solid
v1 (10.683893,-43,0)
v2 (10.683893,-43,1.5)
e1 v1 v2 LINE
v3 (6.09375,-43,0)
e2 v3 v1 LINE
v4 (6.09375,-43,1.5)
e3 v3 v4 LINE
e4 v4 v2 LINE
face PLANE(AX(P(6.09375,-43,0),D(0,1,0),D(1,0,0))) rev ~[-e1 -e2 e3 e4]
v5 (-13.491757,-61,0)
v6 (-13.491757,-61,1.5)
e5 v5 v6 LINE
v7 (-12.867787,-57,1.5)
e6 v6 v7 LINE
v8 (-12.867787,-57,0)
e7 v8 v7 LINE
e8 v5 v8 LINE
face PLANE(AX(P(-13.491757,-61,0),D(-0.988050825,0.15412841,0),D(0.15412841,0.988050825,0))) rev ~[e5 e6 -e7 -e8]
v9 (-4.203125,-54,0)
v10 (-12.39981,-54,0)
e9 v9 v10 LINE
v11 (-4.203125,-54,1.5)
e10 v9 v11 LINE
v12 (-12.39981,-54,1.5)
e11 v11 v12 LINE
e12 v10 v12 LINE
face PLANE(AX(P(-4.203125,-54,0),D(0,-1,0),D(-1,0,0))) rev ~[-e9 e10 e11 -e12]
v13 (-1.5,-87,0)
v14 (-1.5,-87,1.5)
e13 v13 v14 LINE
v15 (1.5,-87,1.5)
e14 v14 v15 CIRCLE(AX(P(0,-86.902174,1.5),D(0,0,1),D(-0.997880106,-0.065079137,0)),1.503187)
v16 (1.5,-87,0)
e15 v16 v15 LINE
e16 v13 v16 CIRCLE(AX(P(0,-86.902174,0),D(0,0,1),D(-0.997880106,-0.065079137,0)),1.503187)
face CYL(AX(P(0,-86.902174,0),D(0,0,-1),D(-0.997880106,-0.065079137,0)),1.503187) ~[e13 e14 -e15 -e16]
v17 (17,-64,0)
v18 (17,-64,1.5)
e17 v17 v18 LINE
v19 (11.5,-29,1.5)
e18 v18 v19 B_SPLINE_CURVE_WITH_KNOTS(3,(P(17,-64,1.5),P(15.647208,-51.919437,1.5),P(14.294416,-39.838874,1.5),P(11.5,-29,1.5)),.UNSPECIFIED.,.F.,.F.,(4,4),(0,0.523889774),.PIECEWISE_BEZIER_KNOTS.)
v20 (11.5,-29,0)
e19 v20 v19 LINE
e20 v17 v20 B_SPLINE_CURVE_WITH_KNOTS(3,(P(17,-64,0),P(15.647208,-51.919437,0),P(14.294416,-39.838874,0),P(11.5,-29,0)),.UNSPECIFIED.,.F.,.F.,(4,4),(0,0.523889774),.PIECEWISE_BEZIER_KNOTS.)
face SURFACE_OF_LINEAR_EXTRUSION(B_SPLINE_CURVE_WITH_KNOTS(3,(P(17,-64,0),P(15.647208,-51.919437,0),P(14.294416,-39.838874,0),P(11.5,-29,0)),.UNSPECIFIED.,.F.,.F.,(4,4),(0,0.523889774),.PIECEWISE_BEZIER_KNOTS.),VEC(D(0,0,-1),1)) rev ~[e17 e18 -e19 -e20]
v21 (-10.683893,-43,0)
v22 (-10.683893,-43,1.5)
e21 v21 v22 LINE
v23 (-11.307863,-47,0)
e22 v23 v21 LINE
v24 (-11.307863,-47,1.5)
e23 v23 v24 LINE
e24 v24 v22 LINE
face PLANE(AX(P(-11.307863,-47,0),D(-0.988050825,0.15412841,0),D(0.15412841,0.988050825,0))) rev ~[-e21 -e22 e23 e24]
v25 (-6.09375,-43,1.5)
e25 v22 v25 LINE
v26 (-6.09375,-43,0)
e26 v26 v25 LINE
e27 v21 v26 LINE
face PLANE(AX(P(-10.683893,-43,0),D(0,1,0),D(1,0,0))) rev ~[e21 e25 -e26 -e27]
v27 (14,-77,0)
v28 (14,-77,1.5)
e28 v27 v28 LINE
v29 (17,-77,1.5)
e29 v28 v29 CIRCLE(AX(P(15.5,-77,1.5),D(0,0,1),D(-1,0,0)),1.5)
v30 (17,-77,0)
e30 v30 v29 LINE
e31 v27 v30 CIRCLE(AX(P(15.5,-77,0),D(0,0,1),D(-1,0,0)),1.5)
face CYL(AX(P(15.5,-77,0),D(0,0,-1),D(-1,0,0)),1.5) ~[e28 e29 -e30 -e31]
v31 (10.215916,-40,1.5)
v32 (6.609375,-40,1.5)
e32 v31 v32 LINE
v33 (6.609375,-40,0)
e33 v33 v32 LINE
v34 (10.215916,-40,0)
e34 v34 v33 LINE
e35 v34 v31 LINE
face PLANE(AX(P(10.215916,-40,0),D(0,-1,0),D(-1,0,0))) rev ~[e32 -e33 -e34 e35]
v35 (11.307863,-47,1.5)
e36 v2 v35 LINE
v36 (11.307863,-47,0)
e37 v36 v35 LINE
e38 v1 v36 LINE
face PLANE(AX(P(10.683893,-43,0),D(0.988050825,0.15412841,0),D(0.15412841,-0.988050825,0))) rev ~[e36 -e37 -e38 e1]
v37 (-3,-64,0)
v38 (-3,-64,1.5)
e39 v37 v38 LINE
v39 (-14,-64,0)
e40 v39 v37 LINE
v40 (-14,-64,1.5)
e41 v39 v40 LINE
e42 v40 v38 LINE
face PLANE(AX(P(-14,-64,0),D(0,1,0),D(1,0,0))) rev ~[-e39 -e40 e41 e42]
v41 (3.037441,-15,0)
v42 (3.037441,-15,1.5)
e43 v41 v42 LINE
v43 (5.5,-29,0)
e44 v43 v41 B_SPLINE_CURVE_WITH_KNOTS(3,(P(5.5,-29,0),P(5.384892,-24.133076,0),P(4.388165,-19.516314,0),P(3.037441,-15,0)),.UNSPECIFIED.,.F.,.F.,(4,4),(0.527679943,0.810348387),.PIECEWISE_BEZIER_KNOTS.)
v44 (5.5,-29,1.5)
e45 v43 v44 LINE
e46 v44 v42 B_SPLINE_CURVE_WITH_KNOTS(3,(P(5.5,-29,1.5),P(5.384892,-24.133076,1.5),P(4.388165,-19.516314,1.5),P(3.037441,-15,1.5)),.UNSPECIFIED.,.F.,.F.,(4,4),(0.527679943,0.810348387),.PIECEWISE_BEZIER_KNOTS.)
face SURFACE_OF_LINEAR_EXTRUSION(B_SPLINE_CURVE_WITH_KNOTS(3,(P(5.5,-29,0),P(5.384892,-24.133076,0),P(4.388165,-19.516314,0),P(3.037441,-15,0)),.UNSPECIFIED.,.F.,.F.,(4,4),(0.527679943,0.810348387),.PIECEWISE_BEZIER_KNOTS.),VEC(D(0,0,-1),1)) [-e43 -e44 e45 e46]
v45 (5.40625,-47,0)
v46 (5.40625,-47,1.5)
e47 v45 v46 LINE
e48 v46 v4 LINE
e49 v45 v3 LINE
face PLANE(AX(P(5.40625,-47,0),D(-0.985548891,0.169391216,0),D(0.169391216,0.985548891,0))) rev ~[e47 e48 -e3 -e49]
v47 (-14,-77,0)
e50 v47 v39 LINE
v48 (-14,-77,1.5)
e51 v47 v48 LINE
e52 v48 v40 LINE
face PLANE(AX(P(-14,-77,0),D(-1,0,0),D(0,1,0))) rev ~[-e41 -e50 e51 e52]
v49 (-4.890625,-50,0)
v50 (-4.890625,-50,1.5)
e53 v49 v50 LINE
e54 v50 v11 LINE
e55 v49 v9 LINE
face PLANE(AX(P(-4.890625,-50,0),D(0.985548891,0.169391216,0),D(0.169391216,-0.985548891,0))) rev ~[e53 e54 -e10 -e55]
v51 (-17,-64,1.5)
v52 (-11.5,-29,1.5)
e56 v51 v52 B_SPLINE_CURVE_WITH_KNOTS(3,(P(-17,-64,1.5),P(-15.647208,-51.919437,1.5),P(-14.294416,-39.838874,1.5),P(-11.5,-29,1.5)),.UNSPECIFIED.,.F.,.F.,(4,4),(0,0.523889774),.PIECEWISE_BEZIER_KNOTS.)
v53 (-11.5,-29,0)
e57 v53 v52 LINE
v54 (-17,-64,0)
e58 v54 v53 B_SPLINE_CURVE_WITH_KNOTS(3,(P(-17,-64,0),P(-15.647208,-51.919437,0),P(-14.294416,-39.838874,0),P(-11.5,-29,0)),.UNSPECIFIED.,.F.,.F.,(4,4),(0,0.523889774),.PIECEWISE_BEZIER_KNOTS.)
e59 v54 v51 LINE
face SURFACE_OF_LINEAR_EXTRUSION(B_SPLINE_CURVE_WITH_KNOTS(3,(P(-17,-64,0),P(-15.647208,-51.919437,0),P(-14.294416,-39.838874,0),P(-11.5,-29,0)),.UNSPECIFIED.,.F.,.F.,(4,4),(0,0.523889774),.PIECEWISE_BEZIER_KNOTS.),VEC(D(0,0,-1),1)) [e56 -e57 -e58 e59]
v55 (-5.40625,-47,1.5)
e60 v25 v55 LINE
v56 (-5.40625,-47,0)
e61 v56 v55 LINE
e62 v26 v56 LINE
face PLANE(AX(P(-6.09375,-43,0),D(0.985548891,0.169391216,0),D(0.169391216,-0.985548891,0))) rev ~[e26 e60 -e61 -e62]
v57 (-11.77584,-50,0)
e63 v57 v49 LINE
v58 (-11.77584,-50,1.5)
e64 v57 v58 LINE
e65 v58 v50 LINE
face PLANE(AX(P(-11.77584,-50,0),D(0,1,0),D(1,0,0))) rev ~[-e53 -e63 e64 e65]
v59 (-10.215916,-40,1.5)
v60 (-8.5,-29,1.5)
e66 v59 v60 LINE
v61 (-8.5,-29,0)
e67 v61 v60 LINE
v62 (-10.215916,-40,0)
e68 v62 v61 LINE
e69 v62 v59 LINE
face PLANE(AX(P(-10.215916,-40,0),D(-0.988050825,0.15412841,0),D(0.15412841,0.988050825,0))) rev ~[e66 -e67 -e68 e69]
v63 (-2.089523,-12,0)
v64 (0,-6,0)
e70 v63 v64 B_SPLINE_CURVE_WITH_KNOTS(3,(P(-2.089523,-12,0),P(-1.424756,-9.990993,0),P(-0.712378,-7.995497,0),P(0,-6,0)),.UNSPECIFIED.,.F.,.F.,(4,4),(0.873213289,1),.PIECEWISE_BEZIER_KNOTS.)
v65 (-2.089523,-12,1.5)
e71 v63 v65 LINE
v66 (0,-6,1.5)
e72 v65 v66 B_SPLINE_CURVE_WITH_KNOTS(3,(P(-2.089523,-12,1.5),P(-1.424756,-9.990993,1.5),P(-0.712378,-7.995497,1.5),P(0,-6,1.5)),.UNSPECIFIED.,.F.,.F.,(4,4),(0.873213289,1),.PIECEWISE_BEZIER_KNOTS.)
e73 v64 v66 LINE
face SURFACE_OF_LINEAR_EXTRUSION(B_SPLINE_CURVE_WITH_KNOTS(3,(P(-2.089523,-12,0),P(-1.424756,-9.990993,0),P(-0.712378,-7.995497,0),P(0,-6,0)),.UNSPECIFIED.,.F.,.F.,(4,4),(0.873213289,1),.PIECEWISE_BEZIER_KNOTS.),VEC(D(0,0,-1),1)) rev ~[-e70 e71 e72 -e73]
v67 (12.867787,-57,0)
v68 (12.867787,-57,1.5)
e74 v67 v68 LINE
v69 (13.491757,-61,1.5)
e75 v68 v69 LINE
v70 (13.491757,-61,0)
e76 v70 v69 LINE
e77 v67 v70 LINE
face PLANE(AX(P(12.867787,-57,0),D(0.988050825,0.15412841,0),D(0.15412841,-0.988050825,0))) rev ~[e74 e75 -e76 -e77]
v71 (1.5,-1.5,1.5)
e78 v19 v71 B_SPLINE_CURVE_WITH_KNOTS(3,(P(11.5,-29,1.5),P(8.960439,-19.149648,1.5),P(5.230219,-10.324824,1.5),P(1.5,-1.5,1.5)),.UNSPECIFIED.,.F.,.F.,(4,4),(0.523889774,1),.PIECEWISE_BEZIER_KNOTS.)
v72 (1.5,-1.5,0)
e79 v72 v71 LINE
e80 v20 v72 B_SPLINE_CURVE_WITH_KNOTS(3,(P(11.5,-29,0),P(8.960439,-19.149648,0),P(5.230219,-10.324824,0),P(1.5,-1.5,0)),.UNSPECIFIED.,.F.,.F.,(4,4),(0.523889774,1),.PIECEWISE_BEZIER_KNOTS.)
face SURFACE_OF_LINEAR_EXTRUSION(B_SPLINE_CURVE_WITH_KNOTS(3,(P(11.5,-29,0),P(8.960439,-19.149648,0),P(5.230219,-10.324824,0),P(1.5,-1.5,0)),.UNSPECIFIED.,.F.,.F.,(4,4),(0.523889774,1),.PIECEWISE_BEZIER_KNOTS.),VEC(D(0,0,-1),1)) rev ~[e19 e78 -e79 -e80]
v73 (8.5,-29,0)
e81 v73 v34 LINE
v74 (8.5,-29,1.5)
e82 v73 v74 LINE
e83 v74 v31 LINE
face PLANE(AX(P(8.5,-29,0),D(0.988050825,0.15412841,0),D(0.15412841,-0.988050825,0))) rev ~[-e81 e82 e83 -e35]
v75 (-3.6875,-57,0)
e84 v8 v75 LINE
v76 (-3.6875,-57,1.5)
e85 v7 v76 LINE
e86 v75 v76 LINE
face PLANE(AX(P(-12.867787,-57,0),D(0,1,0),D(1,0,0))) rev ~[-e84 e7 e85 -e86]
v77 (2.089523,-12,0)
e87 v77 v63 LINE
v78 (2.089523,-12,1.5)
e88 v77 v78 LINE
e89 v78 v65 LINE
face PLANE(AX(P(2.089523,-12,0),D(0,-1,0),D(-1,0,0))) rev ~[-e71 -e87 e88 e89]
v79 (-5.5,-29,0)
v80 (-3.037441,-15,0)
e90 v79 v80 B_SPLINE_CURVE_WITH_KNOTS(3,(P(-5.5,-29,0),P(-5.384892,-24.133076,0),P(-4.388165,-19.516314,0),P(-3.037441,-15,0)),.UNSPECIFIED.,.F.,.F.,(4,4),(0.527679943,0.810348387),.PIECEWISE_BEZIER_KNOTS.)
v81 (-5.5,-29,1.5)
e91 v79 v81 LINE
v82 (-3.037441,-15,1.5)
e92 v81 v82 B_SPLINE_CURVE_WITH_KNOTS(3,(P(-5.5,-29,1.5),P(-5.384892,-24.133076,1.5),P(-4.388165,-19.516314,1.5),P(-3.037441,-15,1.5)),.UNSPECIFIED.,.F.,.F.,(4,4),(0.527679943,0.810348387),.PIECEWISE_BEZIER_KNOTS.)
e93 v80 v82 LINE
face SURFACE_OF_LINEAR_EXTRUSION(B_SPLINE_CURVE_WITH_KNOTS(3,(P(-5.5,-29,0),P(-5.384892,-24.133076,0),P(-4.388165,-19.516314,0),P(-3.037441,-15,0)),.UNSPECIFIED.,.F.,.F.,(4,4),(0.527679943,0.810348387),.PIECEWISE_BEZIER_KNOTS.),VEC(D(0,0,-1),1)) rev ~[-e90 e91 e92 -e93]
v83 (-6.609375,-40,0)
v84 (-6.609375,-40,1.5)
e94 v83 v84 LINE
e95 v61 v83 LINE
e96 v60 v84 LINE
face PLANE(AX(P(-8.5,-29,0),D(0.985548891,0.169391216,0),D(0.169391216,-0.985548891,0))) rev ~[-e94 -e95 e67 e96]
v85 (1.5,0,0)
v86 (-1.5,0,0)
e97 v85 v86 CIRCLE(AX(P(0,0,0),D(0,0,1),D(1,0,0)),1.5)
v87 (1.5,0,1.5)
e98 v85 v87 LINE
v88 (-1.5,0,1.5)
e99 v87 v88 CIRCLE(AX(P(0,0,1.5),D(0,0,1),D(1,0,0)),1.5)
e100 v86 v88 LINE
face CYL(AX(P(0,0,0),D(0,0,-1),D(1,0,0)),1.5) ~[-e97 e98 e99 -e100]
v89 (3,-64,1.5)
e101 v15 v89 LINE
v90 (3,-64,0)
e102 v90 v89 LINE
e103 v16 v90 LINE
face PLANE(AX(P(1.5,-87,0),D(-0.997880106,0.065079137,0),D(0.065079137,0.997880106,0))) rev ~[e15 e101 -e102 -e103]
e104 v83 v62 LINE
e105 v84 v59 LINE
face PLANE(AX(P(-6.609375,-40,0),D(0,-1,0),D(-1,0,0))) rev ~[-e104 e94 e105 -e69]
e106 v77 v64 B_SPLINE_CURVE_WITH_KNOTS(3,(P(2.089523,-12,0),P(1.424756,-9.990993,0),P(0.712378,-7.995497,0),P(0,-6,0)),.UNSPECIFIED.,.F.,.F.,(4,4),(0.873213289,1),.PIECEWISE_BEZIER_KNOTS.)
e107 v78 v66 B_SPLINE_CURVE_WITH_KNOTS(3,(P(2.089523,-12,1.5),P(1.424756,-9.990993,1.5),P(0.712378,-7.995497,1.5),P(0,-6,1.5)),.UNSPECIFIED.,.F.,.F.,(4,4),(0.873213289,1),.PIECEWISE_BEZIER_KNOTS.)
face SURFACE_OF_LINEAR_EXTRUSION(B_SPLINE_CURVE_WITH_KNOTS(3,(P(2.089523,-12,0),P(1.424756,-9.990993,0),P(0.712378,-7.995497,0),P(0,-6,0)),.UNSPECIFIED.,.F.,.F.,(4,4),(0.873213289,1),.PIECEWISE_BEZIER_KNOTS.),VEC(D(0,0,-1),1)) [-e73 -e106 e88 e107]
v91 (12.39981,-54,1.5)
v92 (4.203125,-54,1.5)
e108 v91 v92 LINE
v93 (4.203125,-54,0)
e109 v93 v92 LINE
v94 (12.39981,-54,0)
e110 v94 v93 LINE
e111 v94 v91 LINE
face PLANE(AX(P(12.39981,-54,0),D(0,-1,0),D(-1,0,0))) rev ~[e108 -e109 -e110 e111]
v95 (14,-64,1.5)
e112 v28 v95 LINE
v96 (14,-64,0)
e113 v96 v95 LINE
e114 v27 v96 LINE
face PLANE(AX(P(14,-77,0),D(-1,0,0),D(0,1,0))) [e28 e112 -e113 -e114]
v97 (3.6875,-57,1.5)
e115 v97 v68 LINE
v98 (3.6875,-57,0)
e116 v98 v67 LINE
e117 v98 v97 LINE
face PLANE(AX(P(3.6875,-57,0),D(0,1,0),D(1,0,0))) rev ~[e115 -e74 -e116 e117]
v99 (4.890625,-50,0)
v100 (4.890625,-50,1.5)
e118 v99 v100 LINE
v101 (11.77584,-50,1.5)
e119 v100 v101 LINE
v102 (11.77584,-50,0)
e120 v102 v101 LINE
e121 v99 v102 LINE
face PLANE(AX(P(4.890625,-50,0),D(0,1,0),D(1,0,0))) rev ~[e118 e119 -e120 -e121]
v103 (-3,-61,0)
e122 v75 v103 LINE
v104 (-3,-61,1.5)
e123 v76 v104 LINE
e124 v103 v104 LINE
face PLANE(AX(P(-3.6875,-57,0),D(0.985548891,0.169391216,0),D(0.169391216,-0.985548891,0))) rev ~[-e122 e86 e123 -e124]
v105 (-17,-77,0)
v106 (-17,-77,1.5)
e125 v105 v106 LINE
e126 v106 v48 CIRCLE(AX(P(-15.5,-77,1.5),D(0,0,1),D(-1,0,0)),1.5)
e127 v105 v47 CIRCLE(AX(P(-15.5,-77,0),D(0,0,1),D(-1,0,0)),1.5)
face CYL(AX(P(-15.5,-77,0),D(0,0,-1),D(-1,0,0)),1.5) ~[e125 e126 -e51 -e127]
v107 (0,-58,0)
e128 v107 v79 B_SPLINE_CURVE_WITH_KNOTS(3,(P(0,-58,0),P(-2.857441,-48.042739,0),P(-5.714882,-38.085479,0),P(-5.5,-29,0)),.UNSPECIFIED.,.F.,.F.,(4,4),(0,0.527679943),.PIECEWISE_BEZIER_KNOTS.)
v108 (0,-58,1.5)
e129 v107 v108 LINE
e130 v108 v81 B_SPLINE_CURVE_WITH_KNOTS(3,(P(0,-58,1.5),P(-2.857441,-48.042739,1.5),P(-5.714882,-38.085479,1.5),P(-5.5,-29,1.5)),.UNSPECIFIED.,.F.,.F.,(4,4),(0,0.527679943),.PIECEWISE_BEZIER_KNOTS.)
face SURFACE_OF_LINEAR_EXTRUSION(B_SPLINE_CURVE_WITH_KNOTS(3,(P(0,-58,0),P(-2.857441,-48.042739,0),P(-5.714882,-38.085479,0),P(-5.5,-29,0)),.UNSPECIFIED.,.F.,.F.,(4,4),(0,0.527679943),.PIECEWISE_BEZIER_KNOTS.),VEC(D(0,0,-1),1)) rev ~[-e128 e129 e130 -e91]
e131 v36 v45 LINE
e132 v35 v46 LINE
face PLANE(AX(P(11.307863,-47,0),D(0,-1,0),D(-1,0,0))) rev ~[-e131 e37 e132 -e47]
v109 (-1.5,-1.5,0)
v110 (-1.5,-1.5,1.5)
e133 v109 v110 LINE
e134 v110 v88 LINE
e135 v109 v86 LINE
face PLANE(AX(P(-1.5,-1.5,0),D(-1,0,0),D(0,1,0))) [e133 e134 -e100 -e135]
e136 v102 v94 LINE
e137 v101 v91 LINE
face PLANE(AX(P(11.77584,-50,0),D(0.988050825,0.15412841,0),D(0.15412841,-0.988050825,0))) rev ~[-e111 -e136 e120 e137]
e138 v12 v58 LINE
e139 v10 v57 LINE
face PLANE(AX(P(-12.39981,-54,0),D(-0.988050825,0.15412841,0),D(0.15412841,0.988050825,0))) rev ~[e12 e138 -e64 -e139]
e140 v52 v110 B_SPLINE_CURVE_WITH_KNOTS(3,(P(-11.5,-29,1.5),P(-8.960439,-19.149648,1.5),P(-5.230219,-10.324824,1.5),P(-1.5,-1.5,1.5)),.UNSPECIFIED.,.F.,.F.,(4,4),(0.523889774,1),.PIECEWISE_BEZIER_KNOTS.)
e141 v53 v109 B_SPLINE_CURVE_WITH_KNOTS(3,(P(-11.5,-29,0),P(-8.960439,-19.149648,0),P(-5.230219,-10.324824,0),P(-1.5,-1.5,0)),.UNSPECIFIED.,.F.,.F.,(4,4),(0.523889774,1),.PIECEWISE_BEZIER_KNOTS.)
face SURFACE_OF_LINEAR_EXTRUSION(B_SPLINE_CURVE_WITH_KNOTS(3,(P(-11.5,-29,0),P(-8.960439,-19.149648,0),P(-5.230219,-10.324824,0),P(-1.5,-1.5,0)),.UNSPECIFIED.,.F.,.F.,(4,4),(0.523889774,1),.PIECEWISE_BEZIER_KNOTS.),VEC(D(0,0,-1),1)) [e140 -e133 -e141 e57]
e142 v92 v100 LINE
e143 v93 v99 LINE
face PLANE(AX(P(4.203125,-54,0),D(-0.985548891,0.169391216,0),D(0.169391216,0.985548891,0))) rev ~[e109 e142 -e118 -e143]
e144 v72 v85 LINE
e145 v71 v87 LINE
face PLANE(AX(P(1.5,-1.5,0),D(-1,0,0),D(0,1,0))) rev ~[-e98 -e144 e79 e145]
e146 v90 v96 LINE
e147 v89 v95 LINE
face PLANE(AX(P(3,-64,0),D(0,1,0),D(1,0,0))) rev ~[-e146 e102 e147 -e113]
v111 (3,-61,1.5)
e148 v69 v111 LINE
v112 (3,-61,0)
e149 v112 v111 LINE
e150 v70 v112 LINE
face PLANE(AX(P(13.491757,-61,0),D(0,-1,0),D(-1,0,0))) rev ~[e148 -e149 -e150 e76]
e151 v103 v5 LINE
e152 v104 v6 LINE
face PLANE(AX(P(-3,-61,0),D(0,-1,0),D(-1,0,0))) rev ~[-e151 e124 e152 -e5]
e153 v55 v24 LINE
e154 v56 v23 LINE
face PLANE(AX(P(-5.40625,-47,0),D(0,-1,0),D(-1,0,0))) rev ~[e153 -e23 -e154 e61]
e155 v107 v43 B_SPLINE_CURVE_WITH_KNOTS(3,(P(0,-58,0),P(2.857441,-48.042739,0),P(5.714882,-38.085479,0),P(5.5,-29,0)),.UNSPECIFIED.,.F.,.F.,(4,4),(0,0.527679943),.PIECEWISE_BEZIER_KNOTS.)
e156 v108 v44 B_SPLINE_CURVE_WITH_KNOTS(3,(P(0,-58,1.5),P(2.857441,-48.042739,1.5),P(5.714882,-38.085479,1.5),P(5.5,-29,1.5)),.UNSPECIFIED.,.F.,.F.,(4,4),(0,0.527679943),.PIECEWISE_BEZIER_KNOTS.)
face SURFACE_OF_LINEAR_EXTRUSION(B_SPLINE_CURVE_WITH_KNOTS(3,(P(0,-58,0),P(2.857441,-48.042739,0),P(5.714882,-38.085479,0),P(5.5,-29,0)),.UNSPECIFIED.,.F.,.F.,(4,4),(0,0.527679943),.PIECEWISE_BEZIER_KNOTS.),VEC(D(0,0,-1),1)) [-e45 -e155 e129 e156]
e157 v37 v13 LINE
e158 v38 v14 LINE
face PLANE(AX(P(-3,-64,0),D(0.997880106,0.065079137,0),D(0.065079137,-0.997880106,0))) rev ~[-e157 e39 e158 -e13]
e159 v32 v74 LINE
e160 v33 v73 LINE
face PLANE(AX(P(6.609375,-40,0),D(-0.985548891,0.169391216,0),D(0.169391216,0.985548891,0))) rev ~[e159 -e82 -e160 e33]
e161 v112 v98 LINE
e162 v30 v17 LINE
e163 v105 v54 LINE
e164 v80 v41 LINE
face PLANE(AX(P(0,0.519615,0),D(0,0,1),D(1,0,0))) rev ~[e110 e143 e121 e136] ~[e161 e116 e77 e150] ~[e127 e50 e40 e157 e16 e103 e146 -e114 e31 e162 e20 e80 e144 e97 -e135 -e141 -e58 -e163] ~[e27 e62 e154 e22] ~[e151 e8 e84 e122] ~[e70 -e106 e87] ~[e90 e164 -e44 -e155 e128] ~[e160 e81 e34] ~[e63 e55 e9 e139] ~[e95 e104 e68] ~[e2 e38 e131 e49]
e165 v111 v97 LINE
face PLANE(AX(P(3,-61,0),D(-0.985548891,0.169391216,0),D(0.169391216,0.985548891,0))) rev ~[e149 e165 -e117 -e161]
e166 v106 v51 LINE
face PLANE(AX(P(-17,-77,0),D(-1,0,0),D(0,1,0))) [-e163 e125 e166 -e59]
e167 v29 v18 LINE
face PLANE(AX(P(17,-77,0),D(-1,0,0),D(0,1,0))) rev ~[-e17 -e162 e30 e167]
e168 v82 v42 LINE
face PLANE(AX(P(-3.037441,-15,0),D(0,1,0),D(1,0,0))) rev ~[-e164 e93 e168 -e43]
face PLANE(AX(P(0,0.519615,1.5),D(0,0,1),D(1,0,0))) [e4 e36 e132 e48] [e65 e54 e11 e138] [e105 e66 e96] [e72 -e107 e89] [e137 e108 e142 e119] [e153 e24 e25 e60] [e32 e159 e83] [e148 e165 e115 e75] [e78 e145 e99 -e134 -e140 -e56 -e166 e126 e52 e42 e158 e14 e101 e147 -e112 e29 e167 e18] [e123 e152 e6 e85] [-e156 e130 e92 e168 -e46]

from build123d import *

# Parameters (mm, degrees)
F0_W     = 1.5
F0_H     = 1.5
F0_W_2   = 3
F0_H_2   = 13
F1_DEPTH = 1.5


with BuildPart() as f1:
    # F0 (on Top) → F1 (new body)
    with BuildSketch(Plane.XY):
        with BuildLine():
            ThreePointArc((1.5, 0), (0, 1.5), (-1.5, 0))
            Line((-1.5, 0), (0, 0))
            Line((0, 0), (1.5, 0))
        make_face()
        with Locations((-0.75, -0.75)):
            Rectangle(F0_W, F0_H)
        with Locations((0.75, -0.75)):
            Rectangle(F0_W, F0_H)
        with BuildLine():
            Line((-11.5, -29), (-1.5, -1.5))
            add(Edge.make_bspline(
                [(-11.5, -29), (-8.9604389689, -19.1496475307), (-5.2302194845, -10.3248237653), (-1.5, -1.5)],
                knots=[0.5238897737, 0.5238897737, 0.5238897737, 0.5238897737, 1, 1, 1, 1], degree=3))
        make_face()
        with BuildLine():
            Line((0, -1.5), (-1.5, -1.5))
            Line((-1.5, -1.5), (-11.5, -29))
            Line((-11.5, -29), (-8.5, -29))
            Line((-8.5, -29), (-5.5, -29))
            add(Edge.make_bspline(
                [(-5.5, -29), (-5.3848916098, -24.1330760329), (-4.3881653739, -19.5163140054), (-3.0374413678, -15)],
                knots=[0.5276799434, 0.5276799434, 0.5276799434, 0.5276799434, 0.8103483866, 0.8103483866, 0.8103483866, 0.8103483866], degree=3))
            add(Edge.make_bspline(
                [(-3.0374413678, -15), (-2.7370430221, -13.9955807036), (-2.4191356353, -12.9961296547), (-2.0895230291, -12)],
                knots=[0.8103483866, 0.8103483866, 0.8103483866, 0.8103483866, 0.8732132889, 0.8732132889, 0.8732132889, 0.8732132889], degree=3))
            add(Edge.make_bspline(
                [(-2.0895230291, -12), (-1.4247562559, -9.9909934152), (-0.7123781279, -7.9954967076), (0, -6)],
                knots=[0.8732132889, 0.8732132889, 0.8732132889, 0.8732132889, 1, 1, 1, 1], degree=3))
            Line((0, -6), (0, -1.5))
        make_face()
        with BuildLine():
            Line((-2.152173913, -15), (-1.4347826087, -12))
            Line((-1.4347826087, -12), (-2.0895230291, -12))
            add(Edge.make_bspline(
                [(-3.0374413678, -15), (-2.7370430221, -13.9955807036), (-2.4191356353, -12.9961296547), (-2.0895230291, -12)],
                knots=[0.8103483866, 0.8103483866, 0.8103483866, 0.8103483866, 0.8732132889, 0.8732132889, 0.8732132889, 0.8732132889], degree=3))
            Line((-3.0374413678, -15), (-2.152173913, -15))
        make_face()
        Polygon((0, -15), (0, -12), (-1.4347826087, -12), (-2.152173913, -15), align=None)
        Polygon((1.4347826087, -12), (0, -12), (0, -15), (2.152173913, -15), align=None)
        with BuildLine():
            Line((2.0895230291, -12), (1.4347826087, -12))
            Line((1.4347826087, -12), (2.152173913, -15))
            Line((2.152173913, -15), (3.0374413678, -15))
            add(Edge.make_bspline(
                [(3.0374413678, -15), (2.7370430221, -13.9955807036), (2.4191356353, -12.9961296547), (2.0895230291, -12)],
                knots=[0.8103483866, 0.8103483866, 0.8103483866, 0.8103483866, 0.8732132889, 0.8732132889, 0.8732132889, 0.8732132889], degree=3))
        make_face()
        with BuildLine():
            add(Edge.make_bspline(
                [(11.5, -29), (8.9604389689, -19.1496475307), (5.2302194845, -10.3248237653), (1.5, -1.5)],
                knots=[0.5238897737, 0.5238897737, 0.5238897737, 0.5238897737, 1, 1, 1, 1], degree=3))
            Line((1.5, -1.5), (11.5, -29))
        make_face()
        with BuildLine():
            Line((1.5, -1.5), (0, -1.5))
            Line((0, -1.5), (0, -6))
            add(Edge.make_bspline(
                [(2.0895230291, -12), (1.4247562559, -9.9909934152), (0.7123781279, -7.9954967076), (0, -6)],
                knots=[0.8732132889, 0.8732132889, 0.8732132889, 0.8732132889, 1, 1, 1, 1], degree=3))
            add(Edge.make_bspline(
                [(3.0374413678, -15), (2.7370430221, -13.9955807036), (2.4191356353, -12.9961296547), (2.0895230291, -12)],
                knots=[0.8103483866, 0.8103483866, 0.8103483866, 0.8103483866, 0.8732132889, 0.8732132889, 0.8732132889, 0.8732132889], degree=3))
            add(Edge.make_bspline(
                [(5.5, -29), (5.3848916098, -24.1330760329), (4.3881653739, -19.5163140054), (3.0374413678, -15)],
                knots=[0.5276799434, 0.5276799434, 0.5276799434, 0.5276799434, 0.8103483866, 0.8103483866, 0.8103483866, 0.8103483866], degree=3))
            Line((5.5, -29), (8.5, -29))
            Line((8.5, -29), (11.5, -29))
            Line((11.5, -29), (1.5, -1.5))
        make_face()
        with BuildLine():
            Line((-8.5, -29), (-11.5, -29))
            Line((-11.5, -29), (-17, -64))
            Line((-17, -64), (-14, -64))
            Line((-14, -64), (-3, -64))
            Line((-3, -64), (0, -64))
            Line((0, -64), (0, -58))
            add(Edge.make_bspline(
                [(0, -58), (-2.8574410503, -48.0427394279), (-5.7148821006, -38.0854788558), (-5.5, -29)],
                knots=[0, 0, 0, 0, 0.5276799434, 0.5276799434, 0.5276799434, 0.5276799434], degree=3))
            Line((-5.5, -29), (-8.5, -29))
        make_face()
        Polygon((-10.2159162976, -40), (-8.5, -29), (-6.609375, -40), (-6.09375, -43), (-5.40625, -47), (-4.890625, -50), (-4.203125, -54), (-3.6875, -57), (-3, -61), (-8.5, -61), (-13.491756502, -61), (-12.8677869393, -57), (-12.3998097672, -54), (-11.7758402045, -50), (-11.3078630324, -47), (-10.6838934696, -43), align=None, mode=Mode.SUBTRACT)
        with BuildLine():
            Line((-17, -64), (-11.5, -29))
            add(Edge.make_bspline(
                [(-17, -64), (-15.6472080207, -51.9194371815), (-14.2944160413, -39.838874363), (-11.5, -29)],
                knots=[0, 0, 0, 0, 0.5238897737, 0.5238897737, 0.5238897737, 0.5238897737], degree=3))
        make_face()
        with BuildLine():
            Line((17, -64), (11.5, -29))
            Line((11.5, -29), (8.5, -29))
            Line((8.5, -29), (5.5, -29))
            add(Edge.make_bspline(
                [(0, -58), (2.8574410503, -48.0427394279), (5.7148821006, -38.0854788558), (5.5, -29)],
                knots=[0, 0, 0, 0, 0.5276799434, 0.5276799434, 0.5276799434, 0.5276799434], degree=3))
            Line((0, -58), (0, -64))
            Line((0, -64), (3, -64))
            Line((3, -64), (14, -64))
            Line((14, -64), (17, -64))
        make_face()
        Polygon((6.609375, -40), (8.5, -29), (10.2159162976, -40), (10.6838934696, -43), (11.3078630324, -47), (11.7758402045, -50), (12.3998097672, -54), (12.8677869393, -57), (13.491756502, -61), (3, -61), (3.6875, -57), (4.203125, -54), (4.890625, -50), (5.40625, -47), (6.09375, -43), align=None, mode=Mode.SUBTRACT)
        with BuildLine():
            add(Edge.make_bspline(
                [(17, -64), (15.6472080207, -51.9194371815), (14.2944160413, -39.838874363), (11.5, -29)],
                knots=[0, 0, 0, 0, 0.5238897737, 0.5238897737, 0.5238897737, 0.5238897737], degree=3))
            Line((11.5, -29), (17, -64))
        make_face()
        Polygon((10.6838934696, -43), (10.2159162976, -40), (6.609375, -40), (6.09375, -43), align=None)
        Polygon((11.7758402045, -50), (11.3078630324, -47), (5.40625, -47), (4.890625, -50), align=None)
        Polygon((12.8677869393, -57), (12.3998097672, -54), (4.203125, -54), (3.6875, -57), align=None)
        Polygon((-8.5, -54), (-12.3998097672, -54), (-12.8677869393, -57), (-8.5, -57), align=None)
        Polygon((-3.6875, -57), (-4.203125, -54), (-8.5, -54), (-8.5, -57), align=None)
        Polygon((-4.890625, -50), (-5.40625, -47), (-8.5, -47), (-8.5, -50), align=None)
        Polygon((-8.5, -47), (-11.3078630324, -47), (-11.7758402045, -50), (-8.5, -50), align=None)
        Polygon((-8.5, -40), (-10.2159162976, -40), (-10.6838934696, -43), (-8.5, -43), align=None)
        Polygon((-6.09375, -43), (-6.609375, -40), (-8.5, -40), (-8.5, -43), align=None)
        with Locations((-15.5, -70.5)):
            Rectangle(F0_W_2, F0_H_2)
        Polygon((0, -64), (-3, -64), (-1.5, -87), (0, -87), align=None)
        with Locations((15.5, -70.5)):
            Rectangle(F0_W_2, F0_H_2)
        Polygon((1.5, -87), (3, -64), (0, -64), (0, -87), align=None)
        with BuildLine():
            ThreePointArc((14, -77), (15.5, -78.5), (17, -77))
            Line((17, -77), (14, -77))
        make_face()
        with BuildLine():
            Line((-14, -77), (-17, -77))
            ThreePointArc((-17, -77), (-15.5, -78.5), (-14, -77))
        make_face()
        with BuildLine():
            Line((0, -87), (-1.5, -87))
            ThreePointArc((-1.5, -87), (0, -88.4053605093), (1.5, -87))
            Line((1.5, -87), (0, -87))
        make_face()
    extrude(amount=F1_DEPTH)


solid = f1.part
